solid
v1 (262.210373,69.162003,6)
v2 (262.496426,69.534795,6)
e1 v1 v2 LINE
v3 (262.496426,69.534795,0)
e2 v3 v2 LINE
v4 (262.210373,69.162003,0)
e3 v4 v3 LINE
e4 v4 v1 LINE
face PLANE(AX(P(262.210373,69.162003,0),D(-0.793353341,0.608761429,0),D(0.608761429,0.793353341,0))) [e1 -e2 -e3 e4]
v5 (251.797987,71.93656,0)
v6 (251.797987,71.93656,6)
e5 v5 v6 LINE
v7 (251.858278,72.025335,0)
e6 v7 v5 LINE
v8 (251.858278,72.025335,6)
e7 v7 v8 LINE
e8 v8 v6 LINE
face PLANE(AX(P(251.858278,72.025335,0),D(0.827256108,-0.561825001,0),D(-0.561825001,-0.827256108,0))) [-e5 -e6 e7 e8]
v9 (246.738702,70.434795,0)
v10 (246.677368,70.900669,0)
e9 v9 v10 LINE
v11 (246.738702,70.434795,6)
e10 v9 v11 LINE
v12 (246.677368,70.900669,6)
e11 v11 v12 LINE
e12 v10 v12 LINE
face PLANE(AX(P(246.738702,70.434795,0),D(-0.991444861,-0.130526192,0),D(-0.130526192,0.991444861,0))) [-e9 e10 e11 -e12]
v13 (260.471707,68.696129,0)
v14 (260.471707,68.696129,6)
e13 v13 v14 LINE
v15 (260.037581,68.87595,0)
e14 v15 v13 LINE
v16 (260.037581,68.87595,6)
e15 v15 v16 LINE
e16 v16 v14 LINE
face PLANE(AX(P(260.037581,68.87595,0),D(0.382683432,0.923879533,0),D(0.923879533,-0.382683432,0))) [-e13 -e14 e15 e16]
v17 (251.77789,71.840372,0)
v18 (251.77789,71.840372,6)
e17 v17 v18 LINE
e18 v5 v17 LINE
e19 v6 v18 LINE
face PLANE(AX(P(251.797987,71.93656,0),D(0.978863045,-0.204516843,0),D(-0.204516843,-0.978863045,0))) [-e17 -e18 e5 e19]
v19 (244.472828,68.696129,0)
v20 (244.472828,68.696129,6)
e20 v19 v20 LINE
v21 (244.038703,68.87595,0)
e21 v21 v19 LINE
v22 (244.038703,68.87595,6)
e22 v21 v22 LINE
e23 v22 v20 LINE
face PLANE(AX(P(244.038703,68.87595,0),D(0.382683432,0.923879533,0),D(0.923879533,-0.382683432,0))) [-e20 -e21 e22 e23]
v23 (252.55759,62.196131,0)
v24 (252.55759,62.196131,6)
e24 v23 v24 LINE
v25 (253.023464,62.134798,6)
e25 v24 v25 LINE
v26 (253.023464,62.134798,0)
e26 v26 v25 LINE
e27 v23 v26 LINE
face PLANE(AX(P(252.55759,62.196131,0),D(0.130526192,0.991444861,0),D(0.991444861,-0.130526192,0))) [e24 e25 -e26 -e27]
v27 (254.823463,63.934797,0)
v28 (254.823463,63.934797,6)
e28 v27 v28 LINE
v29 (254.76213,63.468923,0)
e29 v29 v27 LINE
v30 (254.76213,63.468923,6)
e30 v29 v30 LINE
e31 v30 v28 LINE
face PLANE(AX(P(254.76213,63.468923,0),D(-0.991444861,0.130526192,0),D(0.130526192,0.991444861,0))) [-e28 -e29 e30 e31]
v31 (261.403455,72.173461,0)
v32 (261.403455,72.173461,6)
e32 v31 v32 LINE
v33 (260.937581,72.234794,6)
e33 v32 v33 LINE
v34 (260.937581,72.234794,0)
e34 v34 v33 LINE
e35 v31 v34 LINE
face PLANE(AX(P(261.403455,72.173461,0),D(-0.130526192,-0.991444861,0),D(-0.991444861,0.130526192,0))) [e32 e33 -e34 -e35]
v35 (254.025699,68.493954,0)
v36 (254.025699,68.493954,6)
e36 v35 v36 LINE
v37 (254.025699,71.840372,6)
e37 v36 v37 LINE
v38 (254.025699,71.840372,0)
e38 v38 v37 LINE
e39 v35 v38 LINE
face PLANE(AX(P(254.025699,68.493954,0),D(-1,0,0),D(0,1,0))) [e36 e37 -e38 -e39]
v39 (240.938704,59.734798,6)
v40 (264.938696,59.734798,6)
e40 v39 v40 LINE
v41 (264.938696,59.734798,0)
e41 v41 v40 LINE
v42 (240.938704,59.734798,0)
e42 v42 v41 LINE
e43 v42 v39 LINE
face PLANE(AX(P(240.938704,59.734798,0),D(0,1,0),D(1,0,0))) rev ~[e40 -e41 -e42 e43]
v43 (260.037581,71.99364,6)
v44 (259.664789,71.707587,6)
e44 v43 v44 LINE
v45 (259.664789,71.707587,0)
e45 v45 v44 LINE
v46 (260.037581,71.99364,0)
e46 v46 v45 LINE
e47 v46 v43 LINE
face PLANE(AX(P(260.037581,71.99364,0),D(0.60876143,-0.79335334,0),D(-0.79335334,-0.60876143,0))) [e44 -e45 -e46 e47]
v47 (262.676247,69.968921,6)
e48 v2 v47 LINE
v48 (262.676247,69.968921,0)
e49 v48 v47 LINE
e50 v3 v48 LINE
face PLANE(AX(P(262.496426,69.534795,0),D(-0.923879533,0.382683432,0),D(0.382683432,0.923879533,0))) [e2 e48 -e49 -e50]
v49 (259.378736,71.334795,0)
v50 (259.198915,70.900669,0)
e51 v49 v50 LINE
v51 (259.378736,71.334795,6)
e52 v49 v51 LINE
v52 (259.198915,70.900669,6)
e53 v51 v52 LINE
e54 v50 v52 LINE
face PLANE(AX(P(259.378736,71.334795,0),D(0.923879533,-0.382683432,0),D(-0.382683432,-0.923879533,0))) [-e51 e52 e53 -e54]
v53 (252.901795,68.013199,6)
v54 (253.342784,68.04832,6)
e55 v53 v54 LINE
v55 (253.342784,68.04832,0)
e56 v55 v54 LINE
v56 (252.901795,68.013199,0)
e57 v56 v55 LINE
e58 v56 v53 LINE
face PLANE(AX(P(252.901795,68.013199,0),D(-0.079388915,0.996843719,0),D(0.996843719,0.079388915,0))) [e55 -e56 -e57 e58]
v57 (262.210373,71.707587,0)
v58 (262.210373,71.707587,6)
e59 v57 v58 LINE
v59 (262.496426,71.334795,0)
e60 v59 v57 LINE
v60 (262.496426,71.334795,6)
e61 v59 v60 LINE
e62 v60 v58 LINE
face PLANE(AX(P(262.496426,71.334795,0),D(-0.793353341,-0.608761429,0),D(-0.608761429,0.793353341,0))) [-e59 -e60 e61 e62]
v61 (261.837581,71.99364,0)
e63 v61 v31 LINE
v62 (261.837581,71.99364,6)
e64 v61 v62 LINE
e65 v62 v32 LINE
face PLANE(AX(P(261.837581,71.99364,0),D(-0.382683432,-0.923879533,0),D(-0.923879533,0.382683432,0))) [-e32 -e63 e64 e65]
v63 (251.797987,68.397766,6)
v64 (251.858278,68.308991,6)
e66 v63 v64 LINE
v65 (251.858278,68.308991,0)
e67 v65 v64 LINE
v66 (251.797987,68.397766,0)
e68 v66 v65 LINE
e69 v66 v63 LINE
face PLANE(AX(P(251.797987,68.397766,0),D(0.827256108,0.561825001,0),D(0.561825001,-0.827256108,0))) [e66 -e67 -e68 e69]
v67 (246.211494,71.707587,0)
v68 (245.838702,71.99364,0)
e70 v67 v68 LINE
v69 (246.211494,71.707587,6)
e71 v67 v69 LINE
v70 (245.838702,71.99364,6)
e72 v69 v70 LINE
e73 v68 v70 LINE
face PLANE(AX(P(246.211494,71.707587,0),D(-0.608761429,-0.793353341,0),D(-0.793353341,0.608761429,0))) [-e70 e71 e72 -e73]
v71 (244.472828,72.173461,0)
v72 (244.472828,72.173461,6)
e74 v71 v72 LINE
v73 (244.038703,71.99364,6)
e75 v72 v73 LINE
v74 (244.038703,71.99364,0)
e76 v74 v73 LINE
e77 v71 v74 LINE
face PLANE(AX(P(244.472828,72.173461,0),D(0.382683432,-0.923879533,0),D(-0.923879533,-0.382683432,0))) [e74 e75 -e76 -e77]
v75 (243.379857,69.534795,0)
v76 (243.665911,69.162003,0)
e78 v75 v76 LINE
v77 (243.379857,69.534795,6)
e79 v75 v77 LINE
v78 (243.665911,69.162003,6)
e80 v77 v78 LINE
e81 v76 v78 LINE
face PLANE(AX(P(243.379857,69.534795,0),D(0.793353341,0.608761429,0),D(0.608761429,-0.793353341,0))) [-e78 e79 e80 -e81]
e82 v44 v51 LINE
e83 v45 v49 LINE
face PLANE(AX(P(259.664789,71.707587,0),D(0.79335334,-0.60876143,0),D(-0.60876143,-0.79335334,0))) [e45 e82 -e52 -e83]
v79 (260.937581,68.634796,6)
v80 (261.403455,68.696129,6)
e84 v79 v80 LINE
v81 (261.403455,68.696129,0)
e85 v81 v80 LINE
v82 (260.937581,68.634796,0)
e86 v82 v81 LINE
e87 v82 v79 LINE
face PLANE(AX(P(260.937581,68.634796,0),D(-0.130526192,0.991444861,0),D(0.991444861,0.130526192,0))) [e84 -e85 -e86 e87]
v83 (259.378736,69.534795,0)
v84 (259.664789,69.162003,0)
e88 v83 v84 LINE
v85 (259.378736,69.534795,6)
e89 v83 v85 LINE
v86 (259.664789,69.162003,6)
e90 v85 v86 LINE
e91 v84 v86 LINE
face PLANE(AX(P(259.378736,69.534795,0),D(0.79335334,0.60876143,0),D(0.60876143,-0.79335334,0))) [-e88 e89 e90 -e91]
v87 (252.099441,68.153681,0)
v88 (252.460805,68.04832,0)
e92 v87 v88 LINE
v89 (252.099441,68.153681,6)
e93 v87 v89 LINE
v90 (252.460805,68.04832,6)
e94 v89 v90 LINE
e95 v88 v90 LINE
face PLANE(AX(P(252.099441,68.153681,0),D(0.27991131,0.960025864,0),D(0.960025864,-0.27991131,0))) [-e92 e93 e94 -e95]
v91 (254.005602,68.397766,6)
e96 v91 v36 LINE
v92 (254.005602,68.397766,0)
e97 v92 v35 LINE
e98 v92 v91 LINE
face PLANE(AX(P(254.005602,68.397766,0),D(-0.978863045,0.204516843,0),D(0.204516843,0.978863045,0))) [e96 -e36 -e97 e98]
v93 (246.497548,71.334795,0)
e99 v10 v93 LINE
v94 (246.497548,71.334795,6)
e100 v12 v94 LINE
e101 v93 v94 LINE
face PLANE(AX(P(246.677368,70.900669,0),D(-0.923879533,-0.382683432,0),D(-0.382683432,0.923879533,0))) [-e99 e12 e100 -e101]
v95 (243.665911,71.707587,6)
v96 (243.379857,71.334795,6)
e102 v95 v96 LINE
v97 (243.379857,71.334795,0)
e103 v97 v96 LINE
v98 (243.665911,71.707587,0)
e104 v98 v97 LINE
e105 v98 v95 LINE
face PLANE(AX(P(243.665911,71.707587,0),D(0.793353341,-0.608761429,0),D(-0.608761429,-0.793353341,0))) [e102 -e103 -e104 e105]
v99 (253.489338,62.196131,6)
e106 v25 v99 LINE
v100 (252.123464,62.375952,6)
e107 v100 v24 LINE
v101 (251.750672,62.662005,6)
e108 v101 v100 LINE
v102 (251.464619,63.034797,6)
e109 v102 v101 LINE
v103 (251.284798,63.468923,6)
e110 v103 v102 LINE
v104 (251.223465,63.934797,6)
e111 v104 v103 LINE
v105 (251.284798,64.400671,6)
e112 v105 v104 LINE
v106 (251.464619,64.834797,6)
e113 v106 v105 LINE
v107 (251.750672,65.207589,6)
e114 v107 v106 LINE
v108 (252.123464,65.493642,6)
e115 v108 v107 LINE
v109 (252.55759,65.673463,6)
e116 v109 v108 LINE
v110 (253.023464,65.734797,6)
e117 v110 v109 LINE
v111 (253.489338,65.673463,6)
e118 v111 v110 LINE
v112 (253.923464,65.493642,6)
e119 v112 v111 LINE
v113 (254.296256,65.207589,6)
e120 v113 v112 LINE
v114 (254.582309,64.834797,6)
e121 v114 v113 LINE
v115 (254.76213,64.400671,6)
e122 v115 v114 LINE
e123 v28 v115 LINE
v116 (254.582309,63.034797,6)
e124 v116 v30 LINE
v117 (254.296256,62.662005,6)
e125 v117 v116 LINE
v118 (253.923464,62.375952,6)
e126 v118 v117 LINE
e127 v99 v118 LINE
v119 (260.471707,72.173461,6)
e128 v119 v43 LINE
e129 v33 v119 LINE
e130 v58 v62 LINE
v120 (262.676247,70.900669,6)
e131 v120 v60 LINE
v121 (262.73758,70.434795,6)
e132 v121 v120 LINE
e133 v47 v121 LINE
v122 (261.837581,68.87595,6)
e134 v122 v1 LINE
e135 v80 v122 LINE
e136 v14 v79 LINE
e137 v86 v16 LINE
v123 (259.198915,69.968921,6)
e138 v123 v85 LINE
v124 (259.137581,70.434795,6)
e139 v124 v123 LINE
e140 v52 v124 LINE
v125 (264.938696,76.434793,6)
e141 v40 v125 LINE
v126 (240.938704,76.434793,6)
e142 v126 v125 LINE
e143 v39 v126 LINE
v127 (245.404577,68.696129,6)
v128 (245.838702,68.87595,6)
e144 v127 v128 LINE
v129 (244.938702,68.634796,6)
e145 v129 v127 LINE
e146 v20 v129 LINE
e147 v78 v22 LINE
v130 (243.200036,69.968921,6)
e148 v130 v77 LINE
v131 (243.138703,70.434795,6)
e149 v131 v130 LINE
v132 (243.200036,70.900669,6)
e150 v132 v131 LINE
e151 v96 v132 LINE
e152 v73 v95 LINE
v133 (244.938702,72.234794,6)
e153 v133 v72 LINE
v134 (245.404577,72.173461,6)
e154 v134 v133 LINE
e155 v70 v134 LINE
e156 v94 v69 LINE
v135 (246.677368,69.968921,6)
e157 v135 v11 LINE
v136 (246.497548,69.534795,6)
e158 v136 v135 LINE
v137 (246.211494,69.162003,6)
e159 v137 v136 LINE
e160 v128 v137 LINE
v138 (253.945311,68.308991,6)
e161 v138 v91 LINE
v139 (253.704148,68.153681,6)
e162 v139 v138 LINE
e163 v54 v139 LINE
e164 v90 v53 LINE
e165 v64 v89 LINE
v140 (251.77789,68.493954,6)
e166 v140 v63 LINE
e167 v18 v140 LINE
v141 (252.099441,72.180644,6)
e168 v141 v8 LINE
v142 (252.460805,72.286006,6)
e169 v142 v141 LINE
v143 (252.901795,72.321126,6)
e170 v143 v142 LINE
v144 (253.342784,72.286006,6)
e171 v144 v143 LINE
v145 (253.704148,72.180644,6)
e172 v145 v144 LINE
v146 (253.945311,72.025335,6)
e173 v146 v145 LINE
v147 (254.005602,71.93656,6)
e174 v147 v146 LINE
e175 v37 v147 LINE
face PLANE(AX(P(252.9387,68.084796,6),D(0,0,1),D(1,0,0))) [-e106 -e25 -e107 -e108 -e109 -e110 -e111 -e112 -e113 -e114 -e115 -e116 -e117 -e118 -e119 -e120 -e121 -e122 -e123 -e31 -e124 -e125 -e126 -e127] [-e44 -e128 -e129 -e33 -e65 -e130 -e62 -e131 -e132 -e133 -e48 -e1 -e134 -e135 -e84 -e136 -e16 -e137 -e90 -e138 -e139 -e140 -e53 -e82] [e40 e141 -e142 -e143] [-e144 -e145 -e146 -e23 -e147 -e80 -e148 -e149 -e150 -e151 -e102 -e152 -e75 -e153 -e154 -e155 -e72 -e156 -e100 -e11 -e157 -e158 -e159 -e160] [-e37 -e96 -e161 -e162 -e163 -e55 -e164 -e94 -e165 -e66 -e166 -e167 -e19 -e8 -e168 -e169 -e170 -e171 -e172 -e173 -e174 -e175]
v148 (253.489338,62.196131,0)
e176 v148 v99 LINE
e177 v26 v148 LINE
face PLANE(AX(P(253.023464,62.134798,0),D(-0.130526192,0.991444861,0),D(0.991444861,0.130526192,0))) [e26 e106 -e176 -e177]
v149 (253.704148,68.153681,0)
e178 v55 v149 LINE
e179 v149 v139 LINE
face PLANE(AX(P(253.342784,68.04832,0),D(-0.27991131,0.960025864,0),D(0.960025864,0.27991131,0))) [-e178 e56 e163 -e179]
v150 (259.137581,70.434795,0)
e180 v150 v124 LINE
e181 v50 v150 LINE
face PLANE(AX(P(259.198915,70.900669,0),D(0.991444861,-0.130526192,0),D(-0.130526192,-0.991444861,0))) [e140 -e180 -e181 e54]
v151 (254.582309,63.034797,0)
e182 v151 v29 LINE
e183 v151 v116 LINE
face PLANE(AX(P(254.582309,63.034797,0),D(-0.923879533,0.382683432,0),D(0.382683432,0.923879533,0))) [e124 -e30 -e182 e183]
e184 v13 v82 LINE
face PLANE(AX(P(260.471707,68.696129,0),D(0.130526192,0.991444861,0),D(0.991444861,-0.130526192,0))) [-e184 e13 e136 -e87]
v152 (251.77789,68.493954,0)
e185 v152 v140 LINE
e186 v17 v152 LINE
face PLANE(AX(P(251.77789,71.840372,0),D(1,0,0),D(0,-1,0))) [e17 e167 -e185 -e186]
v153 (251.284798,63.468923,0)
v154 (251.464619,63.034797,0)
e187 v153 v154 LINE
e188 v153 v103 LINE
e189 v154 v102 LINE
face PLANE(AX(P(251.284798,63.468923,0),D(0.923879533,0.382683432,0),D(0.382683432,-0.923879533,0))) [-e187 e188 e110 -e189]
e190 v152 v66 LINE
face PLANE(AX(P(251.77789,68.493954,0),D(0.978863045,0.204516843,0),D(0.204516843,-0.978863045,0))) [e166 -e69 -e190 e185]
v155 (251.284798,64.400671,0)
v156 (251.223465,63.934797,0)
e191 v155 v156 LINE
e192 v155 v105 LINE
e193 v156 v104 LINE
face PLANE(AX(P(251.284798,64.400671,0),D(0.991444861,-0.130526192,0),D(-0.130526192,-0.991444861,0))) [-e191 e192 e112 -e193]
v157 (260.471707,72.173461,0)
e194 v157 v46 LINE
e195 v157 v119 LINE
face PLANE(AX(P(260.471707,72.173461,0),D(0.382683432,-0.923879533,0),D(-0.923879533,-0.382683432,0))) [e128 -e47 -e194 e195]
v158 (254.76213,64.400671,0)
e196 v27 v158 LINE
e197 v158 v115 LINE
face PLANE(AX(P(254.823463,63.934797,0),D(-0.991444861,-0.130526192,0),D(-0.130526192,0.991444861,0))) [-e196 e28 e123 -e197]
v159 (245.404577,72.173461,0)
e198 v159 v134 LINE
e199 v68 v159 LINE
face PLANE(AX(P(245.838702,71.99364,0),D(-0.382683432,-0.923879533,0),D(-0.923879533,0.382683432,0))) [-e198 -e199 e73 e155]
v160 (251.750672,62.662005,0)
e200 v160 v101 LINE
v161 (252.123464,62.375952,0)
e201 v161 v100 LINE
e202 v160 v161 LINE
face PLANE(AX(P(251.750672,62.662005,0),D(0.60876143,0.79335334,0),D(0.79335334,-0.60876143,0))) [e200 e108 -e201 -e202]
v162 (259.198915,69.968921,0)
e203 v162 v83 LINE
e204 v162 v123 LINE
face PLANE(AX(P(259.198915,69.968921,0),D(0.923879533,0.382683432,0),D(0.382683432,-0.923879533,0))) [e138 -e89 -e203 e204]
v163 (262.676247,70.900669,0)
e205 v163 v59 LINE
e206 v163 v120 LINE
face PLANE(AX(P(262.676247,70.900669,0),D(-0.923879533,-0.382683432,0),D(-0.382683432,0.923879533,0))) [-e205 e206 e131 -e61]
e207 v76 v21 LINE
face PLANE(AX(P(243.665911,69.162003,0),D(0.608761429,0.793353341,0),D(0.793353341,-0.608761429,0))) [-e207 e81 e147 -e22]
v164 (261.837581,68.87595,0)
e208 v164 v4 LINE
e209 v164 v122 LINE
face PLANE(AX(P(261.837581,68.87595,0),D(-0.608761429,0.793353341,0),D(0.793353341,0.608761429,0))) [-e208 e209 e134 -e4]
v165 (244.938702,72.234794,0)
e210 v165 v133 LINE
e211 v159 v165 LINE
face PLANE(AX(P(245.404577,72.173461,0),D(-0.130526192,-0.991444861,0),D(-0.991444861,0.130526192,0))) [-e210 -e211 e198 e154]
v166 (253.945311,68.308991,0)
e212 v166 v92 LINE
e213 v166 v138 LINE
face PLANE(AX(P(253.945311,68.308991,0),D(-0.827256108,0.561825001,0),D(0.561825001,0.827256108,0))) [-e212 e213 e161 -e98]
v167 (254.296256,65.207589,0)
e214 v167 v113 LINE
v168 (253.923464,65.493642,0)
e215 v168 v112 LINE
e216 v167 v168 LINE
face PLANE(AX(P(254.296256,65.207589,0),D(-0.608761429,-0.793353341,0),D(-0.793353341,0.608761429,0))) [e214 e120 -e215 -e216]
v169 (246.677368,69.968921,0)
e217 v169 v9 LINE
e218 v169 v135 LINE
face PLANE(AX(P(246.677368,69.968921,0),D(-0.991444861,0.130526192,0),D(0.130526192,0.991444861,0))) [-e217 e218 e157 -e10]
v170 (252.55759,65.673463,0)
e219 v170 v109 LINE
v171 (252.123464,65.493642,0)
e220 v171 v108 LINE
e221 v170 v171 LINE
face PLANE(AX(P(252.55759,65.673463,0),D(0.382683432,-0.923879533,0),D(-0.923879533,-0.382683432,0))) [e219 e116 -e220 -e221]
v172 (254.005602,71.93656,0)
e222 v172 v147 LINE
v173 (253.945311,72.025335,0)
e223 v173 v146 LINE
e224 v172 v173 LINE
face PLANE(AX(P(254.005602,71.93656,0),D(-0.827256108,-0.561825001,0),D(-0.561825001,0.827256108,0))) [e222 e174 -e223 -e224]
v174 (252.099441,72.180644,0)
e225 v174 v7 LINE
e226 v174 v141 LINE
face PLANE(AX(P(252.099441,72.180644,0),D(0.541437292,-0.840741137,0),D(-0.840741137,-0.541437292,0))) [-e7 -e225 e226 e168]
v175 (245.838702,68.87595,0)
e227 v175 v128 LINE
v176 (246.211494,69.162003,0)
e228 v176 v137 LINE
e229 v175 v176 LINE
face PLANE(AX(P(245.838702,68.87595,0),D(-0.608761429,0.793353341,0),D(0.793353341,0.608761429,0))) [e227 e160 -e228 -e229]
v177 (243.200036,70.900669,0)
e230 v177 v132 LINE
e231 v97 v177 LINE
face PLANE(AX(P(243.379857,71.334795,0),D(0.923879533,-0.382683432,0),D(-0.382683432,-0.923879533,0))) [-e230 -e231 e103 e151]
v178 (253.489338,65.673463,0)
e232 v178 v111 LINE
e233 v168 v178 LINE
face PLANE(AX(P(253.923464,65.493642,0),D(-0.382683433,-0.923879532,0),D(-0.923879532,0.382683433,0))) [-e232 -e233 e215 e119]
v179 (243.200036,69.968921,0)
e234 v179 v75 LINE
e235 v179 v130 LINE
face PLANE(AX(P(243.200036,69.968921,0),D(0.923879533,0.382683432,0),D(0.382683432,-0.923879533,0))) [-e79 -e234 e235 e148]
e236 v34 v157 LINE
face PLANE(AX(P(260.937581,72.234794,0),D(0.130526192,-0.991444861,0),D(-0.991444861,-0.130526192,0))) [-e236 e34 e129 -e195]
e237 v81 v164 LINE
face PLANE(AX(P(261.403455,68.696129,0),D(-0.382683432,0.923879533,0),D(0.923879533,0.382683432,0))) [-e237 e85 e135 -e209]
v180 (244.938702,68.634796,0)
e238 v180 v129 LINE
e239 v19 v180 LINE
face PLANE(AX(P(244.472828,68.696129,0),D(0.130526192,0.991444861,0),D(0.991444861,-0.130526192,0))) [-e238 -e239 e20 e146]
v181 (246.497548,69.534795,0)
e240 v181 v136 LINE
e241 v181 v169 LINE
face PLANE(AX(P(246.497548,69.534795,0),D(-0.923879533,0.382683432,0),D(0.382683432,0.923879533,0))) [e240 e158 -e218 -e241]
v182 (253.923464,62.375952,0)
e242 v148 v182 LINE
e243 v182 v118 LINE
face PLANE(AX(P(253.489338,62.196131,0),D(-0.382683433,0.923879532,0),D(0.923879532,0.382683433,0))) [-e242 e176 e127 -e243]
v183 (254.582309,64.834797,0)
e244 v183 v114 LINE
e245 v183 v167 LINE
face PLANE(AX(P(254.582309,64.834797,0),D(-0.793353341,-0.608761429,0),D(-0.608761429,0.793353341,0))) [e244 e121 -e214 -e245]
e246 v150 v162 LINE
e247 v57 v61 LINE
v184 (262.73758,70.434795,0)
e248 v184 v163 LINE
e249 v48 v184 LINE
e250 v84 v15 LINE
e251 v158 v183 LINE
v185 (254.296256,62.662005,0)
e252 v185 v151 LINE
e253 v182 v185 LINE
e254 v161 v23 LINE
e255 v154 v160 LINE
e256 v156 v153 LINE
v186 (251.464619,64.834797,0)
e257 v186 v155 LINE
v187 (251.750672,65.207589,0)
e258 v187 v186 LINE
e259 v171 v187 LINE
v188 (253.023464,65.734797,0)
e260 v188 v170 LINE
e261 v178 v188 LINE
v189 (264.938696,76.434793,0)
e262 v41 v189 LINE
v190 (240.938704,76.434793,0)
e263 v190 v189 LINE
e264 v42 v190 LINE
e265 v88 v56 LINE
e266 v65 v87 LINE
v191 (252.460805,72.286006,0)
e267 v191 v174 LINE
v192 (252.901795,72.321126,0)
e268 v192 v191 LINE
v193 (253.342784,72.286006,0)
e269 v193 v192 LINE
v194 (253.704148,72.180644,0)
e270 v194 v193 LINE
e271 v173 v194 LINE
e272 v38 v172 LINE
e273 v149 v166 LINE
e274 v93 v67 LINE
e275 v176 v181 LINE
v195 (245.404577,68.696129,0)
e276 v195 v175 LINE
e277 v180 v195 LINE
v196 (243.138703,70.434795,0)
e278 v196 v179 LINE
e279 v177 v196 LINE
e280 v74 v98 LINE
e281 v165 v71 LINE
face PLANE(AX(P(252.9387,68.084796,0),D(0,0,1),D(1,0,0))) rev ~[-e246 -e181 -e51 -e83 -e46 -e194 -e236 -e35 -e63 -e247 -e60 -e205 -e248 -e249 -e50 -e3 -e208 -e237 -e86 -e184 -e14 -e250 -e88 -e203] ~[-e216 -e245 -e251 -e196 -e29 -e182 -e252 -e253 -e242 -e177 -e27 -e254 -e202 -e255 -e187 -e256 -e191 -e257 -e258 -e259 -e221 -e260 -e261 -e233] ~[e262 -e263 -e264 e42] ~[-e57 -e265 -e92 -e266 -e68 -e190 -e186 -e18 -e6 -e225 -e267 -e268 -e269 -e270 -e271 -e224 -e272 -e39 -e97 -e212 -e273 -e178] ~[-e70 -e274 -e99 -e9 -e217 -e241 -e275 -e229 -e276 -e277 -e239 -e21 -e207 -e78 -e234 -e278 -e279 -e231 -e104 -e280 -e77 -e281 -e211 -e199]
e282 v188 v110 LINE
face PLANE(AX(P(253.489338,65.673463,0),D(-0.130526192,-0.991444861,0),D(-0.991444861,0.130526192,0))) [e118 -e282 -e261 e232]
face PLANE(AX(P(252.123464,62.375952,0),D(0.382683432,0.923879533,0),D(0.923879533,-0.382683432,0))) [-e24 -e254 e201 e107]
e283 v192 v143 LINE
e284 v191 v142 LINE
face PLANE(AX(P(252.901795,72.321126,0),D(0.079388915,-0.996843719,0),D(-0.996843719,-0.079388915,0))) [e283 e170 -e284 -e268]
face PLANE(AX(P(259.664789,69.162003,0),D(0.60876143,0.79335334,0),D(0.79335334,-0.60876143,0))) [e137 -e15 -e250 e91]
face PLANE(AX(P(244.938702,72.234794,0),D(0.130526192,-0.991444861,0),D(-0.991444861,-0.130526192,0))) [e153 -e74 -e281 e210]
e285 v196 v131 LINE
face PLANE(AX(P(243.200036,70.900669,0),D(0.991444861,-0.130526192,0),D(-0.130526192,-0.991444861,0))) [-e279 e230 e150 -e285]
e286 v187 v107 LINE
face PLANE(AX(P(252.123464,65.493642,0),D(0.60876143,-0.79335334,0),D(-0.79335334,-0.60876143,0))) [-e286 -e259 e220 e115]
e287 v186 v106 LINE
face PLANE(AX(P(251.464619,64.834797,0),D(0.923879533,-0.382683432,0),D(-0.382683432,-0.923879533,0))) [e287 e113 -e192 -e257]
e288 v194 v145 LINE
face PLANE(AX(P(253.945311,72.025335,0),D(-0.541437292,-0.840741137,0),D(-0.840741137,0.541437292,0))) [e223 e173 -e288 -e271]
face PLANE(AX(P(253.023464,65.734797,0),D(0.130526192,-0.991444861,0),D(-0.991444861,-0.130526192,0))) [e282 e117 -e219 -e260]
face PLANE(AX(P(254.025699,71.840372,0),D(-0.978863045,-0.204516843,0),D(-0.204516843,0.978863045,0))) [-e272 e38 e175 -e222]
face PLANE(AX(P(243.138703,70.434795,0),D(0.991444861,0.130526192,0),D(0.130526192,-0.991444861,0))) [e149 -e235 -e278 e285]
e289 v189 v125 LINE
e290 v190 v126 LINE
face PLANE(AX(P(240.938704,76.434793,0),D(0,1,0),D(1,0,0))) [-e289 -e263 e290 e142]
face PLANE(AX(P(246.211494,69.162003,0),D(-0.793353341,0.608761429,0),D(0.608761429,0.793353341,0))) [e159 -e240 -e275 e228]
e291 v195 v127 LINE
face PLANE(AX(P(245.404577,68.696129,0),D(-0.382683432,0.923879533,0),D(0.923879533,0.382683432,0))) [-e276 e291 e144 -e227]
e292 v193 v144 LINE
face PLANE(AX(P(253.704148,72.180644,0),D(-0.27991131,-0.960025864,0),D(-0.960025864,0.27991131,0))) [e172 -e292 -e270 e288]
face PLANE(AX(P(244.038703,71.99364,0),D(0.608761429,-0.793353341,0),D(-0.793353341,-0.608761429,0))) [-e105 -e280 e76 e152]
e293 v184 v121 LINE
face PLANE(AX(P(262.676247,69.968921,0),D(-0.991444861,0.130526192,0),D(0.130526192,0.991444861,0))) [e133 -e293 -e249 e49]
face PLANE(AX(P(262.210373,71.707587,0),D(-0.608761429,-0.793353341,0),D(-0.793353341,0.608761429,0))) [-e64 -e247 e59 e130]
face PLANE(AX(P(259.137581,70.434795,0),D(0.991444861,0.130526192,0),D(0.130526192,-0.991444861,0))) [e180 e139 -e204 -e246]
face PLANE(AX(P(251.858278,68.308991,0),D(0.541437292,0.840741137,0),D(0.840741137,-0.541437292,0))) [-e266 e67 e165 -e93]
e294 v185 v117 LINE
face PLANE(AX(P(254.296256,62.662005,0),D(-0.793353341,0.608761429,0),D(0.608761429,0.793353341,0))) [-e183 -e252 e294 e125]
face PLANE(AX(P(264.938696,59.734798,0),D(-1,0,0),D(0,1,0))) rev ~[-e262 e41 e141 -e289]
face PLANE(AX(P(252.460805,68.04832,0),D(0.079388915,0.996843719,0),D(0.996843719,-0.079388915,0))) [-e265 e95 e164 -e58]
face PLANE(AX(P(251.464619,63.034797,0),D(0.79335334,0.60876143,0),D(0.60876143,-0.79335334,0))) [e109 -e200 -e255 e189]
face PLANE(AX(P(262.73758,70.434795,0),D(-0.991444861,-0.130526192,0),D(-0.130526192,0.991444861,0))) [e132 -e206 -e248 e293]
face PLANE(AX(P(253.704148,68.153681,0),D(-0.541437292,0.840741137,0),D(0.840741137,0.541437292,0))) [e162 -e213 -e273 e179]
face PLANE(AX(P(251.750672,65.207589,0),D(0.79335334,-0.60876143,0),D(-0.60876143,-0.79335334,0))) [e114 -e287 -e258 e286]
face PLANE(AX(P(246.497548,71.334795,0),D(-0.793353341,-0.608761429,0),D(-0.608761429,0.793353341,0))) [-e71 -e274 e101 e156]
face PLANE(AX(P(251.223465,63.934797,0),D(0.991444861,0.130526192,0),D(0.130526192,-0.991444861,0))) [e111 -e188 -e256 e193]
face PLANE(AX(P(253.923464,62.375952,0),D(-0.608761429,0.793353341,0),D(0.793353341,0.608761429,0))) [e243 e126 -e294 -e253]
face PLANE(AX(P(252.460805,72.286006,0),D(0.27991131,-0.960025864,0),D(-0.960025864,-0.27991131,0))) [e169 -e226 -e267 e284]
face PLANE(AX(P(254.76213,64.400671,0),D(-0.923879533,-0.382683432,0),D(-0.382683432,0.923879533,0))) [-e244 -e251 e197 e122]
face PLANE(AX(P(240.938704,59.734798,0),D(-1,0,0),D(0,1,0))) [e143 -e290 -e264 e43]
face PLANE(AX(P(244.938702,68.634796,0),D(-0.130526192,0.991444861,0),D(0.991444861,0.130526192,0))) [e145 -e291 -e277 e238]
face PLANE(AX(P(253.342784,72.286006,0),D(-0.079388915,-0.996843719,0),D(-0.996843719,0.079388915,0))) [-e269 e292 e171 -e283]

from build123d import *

# Parameters (mm, degrees)
SKETCH1_W           = 23.99999232
SKETCH1_H           = 16.699994656
BOSS_EXTRUDE1_DEPTH = 6


with BuildPart() as part:
    # Sketch1 → Boss-Extrude1 (new body)
    with BuildSketch(Plane.XY):
        with Locations((252.938699812, 68.084795762)):
            Rectangle(SKETCH1_W, SKETCH1_H)
        Polygon((260.471706709, 68.696129079), (260.937580841, 68.634795586), (261.403454973, 68.696129079), (261.837580553, 68.875949782), (262.21037264, 69.162003211), (262.496426069, 69.534795298), (262.676246772, 69.968920878), (262.737580265, 70.43479501), (262.676246772, 70.900669142), (262.496426069, 71.334794722), (262.21037264, 71.707586809), (261.837580553, 71.993640238), (261.403454973, 72.173460941), (260.937580841, 72.234794434), (260.471706709, 72.173460941), (260.037581129, 71.993640238), (259.664789043, 71.707586809), (259.378735613, 71.334794722), (259.19891491, 70.900669142), (259.137581417, 70.43479501), (259.19891491, 69.968920878), (259.378735613, 69.534795298), (259.664789043, 69.162003211), (260.037581129, 68.875949782), align=None, mode=Mode.SUBTRACT)
        Polygon((243.665910573, 69.162003211), (244.03870266, 68.875949782), (244.47282824, 68.696129079), (244.938702372, 68.634795586), (245.404576504, 68.696129079), (245.838702084, 68.875949782), (246.211494171, 69.162003211), (246.4975476, 69.534795298), (246.677368303, 69.968920878), (246.738701796, 70.43479501), (246.677368303, 70.900669142), (246.4975476, 71.334794722), (246.211494171, 71.707586809), (245.838702084, 71.993640238), (245.404576504, 72.173460941), (244.938702372, 72.234794434), (244.47282824, 72.173460941), (244.03870266, 71.993640238), (243.665910573, 71.707586809), (243.379857144, 71.334794722), (243.200036441, 70.900669142), (243.138702948, 70.43479501), (243.200036441, 69.968920878), (243.379857144, 69.534795298), align=None, mode=Mode.SUBTRACT)
        Polygon((251.464618748, 63.034797378), (251.750672178, 62.662005291), (252.123464264, 62.375951862), (252.557589844, 62.196131159), (253.023463976, 62.134797666), (253.489338109, 62.196131159), (253.923463688, 62.375951862), (254.296255775, 62.662005291), (254.582309204, 63.034797378), (254.762129907, 63.468922958), (254.8234634, 63.93479709), (254.762129907, 64.400671222), (254.582309204, 64.834796802), (254.296255775, 65.207588889), (253.923463688, 65.493642318), (253.489338109, 65.673463021), (253.023463976, 65.734796514), (252.557589844, 65.673463021), (252.123464264, 65.493642318), (251.750672178, 65.207588889), (251.464618748, 64.834796802), (251.284798045, 64.400671222), (251.223464552, 63.93479709), (251.284798045, 63.468922958), align=None, mode=Mode.SUBTRACT)
        Polygon((251.777890248, 68.493953964), (251.79798719, 68.397765535), (251.858278015, 68.308990644), (252.099441315, 68.153681479), (252.460805168, 68.048319912), (252.901794593, 68.01319939), (253.342784017, 68.048319912), (253.70414787, 68.153681479), (253.94531117, 68.308990644), (254.005601995, 68.397765535), (254.025698937, 68.493953964), (254.025698937, 71.840371646), (254.005601995, 71.936560075), (253.94531117, 72.025334966), (253.70414787, 72.180644131), (253.342784017, 72.286005698), (252.901794593, 72.32112622), (252.460805168, 72.286005698), (252.099441315, 72.180644131), (251.858278015, 72.025334966), (251.79798719, 71.936560075), (251.777890248, 71.840371646), align=None, mode=Mode.SUBTRACT)
    extrude(amount=BOSS_EXTRUDE1_DEPTH)


solid = part.part
